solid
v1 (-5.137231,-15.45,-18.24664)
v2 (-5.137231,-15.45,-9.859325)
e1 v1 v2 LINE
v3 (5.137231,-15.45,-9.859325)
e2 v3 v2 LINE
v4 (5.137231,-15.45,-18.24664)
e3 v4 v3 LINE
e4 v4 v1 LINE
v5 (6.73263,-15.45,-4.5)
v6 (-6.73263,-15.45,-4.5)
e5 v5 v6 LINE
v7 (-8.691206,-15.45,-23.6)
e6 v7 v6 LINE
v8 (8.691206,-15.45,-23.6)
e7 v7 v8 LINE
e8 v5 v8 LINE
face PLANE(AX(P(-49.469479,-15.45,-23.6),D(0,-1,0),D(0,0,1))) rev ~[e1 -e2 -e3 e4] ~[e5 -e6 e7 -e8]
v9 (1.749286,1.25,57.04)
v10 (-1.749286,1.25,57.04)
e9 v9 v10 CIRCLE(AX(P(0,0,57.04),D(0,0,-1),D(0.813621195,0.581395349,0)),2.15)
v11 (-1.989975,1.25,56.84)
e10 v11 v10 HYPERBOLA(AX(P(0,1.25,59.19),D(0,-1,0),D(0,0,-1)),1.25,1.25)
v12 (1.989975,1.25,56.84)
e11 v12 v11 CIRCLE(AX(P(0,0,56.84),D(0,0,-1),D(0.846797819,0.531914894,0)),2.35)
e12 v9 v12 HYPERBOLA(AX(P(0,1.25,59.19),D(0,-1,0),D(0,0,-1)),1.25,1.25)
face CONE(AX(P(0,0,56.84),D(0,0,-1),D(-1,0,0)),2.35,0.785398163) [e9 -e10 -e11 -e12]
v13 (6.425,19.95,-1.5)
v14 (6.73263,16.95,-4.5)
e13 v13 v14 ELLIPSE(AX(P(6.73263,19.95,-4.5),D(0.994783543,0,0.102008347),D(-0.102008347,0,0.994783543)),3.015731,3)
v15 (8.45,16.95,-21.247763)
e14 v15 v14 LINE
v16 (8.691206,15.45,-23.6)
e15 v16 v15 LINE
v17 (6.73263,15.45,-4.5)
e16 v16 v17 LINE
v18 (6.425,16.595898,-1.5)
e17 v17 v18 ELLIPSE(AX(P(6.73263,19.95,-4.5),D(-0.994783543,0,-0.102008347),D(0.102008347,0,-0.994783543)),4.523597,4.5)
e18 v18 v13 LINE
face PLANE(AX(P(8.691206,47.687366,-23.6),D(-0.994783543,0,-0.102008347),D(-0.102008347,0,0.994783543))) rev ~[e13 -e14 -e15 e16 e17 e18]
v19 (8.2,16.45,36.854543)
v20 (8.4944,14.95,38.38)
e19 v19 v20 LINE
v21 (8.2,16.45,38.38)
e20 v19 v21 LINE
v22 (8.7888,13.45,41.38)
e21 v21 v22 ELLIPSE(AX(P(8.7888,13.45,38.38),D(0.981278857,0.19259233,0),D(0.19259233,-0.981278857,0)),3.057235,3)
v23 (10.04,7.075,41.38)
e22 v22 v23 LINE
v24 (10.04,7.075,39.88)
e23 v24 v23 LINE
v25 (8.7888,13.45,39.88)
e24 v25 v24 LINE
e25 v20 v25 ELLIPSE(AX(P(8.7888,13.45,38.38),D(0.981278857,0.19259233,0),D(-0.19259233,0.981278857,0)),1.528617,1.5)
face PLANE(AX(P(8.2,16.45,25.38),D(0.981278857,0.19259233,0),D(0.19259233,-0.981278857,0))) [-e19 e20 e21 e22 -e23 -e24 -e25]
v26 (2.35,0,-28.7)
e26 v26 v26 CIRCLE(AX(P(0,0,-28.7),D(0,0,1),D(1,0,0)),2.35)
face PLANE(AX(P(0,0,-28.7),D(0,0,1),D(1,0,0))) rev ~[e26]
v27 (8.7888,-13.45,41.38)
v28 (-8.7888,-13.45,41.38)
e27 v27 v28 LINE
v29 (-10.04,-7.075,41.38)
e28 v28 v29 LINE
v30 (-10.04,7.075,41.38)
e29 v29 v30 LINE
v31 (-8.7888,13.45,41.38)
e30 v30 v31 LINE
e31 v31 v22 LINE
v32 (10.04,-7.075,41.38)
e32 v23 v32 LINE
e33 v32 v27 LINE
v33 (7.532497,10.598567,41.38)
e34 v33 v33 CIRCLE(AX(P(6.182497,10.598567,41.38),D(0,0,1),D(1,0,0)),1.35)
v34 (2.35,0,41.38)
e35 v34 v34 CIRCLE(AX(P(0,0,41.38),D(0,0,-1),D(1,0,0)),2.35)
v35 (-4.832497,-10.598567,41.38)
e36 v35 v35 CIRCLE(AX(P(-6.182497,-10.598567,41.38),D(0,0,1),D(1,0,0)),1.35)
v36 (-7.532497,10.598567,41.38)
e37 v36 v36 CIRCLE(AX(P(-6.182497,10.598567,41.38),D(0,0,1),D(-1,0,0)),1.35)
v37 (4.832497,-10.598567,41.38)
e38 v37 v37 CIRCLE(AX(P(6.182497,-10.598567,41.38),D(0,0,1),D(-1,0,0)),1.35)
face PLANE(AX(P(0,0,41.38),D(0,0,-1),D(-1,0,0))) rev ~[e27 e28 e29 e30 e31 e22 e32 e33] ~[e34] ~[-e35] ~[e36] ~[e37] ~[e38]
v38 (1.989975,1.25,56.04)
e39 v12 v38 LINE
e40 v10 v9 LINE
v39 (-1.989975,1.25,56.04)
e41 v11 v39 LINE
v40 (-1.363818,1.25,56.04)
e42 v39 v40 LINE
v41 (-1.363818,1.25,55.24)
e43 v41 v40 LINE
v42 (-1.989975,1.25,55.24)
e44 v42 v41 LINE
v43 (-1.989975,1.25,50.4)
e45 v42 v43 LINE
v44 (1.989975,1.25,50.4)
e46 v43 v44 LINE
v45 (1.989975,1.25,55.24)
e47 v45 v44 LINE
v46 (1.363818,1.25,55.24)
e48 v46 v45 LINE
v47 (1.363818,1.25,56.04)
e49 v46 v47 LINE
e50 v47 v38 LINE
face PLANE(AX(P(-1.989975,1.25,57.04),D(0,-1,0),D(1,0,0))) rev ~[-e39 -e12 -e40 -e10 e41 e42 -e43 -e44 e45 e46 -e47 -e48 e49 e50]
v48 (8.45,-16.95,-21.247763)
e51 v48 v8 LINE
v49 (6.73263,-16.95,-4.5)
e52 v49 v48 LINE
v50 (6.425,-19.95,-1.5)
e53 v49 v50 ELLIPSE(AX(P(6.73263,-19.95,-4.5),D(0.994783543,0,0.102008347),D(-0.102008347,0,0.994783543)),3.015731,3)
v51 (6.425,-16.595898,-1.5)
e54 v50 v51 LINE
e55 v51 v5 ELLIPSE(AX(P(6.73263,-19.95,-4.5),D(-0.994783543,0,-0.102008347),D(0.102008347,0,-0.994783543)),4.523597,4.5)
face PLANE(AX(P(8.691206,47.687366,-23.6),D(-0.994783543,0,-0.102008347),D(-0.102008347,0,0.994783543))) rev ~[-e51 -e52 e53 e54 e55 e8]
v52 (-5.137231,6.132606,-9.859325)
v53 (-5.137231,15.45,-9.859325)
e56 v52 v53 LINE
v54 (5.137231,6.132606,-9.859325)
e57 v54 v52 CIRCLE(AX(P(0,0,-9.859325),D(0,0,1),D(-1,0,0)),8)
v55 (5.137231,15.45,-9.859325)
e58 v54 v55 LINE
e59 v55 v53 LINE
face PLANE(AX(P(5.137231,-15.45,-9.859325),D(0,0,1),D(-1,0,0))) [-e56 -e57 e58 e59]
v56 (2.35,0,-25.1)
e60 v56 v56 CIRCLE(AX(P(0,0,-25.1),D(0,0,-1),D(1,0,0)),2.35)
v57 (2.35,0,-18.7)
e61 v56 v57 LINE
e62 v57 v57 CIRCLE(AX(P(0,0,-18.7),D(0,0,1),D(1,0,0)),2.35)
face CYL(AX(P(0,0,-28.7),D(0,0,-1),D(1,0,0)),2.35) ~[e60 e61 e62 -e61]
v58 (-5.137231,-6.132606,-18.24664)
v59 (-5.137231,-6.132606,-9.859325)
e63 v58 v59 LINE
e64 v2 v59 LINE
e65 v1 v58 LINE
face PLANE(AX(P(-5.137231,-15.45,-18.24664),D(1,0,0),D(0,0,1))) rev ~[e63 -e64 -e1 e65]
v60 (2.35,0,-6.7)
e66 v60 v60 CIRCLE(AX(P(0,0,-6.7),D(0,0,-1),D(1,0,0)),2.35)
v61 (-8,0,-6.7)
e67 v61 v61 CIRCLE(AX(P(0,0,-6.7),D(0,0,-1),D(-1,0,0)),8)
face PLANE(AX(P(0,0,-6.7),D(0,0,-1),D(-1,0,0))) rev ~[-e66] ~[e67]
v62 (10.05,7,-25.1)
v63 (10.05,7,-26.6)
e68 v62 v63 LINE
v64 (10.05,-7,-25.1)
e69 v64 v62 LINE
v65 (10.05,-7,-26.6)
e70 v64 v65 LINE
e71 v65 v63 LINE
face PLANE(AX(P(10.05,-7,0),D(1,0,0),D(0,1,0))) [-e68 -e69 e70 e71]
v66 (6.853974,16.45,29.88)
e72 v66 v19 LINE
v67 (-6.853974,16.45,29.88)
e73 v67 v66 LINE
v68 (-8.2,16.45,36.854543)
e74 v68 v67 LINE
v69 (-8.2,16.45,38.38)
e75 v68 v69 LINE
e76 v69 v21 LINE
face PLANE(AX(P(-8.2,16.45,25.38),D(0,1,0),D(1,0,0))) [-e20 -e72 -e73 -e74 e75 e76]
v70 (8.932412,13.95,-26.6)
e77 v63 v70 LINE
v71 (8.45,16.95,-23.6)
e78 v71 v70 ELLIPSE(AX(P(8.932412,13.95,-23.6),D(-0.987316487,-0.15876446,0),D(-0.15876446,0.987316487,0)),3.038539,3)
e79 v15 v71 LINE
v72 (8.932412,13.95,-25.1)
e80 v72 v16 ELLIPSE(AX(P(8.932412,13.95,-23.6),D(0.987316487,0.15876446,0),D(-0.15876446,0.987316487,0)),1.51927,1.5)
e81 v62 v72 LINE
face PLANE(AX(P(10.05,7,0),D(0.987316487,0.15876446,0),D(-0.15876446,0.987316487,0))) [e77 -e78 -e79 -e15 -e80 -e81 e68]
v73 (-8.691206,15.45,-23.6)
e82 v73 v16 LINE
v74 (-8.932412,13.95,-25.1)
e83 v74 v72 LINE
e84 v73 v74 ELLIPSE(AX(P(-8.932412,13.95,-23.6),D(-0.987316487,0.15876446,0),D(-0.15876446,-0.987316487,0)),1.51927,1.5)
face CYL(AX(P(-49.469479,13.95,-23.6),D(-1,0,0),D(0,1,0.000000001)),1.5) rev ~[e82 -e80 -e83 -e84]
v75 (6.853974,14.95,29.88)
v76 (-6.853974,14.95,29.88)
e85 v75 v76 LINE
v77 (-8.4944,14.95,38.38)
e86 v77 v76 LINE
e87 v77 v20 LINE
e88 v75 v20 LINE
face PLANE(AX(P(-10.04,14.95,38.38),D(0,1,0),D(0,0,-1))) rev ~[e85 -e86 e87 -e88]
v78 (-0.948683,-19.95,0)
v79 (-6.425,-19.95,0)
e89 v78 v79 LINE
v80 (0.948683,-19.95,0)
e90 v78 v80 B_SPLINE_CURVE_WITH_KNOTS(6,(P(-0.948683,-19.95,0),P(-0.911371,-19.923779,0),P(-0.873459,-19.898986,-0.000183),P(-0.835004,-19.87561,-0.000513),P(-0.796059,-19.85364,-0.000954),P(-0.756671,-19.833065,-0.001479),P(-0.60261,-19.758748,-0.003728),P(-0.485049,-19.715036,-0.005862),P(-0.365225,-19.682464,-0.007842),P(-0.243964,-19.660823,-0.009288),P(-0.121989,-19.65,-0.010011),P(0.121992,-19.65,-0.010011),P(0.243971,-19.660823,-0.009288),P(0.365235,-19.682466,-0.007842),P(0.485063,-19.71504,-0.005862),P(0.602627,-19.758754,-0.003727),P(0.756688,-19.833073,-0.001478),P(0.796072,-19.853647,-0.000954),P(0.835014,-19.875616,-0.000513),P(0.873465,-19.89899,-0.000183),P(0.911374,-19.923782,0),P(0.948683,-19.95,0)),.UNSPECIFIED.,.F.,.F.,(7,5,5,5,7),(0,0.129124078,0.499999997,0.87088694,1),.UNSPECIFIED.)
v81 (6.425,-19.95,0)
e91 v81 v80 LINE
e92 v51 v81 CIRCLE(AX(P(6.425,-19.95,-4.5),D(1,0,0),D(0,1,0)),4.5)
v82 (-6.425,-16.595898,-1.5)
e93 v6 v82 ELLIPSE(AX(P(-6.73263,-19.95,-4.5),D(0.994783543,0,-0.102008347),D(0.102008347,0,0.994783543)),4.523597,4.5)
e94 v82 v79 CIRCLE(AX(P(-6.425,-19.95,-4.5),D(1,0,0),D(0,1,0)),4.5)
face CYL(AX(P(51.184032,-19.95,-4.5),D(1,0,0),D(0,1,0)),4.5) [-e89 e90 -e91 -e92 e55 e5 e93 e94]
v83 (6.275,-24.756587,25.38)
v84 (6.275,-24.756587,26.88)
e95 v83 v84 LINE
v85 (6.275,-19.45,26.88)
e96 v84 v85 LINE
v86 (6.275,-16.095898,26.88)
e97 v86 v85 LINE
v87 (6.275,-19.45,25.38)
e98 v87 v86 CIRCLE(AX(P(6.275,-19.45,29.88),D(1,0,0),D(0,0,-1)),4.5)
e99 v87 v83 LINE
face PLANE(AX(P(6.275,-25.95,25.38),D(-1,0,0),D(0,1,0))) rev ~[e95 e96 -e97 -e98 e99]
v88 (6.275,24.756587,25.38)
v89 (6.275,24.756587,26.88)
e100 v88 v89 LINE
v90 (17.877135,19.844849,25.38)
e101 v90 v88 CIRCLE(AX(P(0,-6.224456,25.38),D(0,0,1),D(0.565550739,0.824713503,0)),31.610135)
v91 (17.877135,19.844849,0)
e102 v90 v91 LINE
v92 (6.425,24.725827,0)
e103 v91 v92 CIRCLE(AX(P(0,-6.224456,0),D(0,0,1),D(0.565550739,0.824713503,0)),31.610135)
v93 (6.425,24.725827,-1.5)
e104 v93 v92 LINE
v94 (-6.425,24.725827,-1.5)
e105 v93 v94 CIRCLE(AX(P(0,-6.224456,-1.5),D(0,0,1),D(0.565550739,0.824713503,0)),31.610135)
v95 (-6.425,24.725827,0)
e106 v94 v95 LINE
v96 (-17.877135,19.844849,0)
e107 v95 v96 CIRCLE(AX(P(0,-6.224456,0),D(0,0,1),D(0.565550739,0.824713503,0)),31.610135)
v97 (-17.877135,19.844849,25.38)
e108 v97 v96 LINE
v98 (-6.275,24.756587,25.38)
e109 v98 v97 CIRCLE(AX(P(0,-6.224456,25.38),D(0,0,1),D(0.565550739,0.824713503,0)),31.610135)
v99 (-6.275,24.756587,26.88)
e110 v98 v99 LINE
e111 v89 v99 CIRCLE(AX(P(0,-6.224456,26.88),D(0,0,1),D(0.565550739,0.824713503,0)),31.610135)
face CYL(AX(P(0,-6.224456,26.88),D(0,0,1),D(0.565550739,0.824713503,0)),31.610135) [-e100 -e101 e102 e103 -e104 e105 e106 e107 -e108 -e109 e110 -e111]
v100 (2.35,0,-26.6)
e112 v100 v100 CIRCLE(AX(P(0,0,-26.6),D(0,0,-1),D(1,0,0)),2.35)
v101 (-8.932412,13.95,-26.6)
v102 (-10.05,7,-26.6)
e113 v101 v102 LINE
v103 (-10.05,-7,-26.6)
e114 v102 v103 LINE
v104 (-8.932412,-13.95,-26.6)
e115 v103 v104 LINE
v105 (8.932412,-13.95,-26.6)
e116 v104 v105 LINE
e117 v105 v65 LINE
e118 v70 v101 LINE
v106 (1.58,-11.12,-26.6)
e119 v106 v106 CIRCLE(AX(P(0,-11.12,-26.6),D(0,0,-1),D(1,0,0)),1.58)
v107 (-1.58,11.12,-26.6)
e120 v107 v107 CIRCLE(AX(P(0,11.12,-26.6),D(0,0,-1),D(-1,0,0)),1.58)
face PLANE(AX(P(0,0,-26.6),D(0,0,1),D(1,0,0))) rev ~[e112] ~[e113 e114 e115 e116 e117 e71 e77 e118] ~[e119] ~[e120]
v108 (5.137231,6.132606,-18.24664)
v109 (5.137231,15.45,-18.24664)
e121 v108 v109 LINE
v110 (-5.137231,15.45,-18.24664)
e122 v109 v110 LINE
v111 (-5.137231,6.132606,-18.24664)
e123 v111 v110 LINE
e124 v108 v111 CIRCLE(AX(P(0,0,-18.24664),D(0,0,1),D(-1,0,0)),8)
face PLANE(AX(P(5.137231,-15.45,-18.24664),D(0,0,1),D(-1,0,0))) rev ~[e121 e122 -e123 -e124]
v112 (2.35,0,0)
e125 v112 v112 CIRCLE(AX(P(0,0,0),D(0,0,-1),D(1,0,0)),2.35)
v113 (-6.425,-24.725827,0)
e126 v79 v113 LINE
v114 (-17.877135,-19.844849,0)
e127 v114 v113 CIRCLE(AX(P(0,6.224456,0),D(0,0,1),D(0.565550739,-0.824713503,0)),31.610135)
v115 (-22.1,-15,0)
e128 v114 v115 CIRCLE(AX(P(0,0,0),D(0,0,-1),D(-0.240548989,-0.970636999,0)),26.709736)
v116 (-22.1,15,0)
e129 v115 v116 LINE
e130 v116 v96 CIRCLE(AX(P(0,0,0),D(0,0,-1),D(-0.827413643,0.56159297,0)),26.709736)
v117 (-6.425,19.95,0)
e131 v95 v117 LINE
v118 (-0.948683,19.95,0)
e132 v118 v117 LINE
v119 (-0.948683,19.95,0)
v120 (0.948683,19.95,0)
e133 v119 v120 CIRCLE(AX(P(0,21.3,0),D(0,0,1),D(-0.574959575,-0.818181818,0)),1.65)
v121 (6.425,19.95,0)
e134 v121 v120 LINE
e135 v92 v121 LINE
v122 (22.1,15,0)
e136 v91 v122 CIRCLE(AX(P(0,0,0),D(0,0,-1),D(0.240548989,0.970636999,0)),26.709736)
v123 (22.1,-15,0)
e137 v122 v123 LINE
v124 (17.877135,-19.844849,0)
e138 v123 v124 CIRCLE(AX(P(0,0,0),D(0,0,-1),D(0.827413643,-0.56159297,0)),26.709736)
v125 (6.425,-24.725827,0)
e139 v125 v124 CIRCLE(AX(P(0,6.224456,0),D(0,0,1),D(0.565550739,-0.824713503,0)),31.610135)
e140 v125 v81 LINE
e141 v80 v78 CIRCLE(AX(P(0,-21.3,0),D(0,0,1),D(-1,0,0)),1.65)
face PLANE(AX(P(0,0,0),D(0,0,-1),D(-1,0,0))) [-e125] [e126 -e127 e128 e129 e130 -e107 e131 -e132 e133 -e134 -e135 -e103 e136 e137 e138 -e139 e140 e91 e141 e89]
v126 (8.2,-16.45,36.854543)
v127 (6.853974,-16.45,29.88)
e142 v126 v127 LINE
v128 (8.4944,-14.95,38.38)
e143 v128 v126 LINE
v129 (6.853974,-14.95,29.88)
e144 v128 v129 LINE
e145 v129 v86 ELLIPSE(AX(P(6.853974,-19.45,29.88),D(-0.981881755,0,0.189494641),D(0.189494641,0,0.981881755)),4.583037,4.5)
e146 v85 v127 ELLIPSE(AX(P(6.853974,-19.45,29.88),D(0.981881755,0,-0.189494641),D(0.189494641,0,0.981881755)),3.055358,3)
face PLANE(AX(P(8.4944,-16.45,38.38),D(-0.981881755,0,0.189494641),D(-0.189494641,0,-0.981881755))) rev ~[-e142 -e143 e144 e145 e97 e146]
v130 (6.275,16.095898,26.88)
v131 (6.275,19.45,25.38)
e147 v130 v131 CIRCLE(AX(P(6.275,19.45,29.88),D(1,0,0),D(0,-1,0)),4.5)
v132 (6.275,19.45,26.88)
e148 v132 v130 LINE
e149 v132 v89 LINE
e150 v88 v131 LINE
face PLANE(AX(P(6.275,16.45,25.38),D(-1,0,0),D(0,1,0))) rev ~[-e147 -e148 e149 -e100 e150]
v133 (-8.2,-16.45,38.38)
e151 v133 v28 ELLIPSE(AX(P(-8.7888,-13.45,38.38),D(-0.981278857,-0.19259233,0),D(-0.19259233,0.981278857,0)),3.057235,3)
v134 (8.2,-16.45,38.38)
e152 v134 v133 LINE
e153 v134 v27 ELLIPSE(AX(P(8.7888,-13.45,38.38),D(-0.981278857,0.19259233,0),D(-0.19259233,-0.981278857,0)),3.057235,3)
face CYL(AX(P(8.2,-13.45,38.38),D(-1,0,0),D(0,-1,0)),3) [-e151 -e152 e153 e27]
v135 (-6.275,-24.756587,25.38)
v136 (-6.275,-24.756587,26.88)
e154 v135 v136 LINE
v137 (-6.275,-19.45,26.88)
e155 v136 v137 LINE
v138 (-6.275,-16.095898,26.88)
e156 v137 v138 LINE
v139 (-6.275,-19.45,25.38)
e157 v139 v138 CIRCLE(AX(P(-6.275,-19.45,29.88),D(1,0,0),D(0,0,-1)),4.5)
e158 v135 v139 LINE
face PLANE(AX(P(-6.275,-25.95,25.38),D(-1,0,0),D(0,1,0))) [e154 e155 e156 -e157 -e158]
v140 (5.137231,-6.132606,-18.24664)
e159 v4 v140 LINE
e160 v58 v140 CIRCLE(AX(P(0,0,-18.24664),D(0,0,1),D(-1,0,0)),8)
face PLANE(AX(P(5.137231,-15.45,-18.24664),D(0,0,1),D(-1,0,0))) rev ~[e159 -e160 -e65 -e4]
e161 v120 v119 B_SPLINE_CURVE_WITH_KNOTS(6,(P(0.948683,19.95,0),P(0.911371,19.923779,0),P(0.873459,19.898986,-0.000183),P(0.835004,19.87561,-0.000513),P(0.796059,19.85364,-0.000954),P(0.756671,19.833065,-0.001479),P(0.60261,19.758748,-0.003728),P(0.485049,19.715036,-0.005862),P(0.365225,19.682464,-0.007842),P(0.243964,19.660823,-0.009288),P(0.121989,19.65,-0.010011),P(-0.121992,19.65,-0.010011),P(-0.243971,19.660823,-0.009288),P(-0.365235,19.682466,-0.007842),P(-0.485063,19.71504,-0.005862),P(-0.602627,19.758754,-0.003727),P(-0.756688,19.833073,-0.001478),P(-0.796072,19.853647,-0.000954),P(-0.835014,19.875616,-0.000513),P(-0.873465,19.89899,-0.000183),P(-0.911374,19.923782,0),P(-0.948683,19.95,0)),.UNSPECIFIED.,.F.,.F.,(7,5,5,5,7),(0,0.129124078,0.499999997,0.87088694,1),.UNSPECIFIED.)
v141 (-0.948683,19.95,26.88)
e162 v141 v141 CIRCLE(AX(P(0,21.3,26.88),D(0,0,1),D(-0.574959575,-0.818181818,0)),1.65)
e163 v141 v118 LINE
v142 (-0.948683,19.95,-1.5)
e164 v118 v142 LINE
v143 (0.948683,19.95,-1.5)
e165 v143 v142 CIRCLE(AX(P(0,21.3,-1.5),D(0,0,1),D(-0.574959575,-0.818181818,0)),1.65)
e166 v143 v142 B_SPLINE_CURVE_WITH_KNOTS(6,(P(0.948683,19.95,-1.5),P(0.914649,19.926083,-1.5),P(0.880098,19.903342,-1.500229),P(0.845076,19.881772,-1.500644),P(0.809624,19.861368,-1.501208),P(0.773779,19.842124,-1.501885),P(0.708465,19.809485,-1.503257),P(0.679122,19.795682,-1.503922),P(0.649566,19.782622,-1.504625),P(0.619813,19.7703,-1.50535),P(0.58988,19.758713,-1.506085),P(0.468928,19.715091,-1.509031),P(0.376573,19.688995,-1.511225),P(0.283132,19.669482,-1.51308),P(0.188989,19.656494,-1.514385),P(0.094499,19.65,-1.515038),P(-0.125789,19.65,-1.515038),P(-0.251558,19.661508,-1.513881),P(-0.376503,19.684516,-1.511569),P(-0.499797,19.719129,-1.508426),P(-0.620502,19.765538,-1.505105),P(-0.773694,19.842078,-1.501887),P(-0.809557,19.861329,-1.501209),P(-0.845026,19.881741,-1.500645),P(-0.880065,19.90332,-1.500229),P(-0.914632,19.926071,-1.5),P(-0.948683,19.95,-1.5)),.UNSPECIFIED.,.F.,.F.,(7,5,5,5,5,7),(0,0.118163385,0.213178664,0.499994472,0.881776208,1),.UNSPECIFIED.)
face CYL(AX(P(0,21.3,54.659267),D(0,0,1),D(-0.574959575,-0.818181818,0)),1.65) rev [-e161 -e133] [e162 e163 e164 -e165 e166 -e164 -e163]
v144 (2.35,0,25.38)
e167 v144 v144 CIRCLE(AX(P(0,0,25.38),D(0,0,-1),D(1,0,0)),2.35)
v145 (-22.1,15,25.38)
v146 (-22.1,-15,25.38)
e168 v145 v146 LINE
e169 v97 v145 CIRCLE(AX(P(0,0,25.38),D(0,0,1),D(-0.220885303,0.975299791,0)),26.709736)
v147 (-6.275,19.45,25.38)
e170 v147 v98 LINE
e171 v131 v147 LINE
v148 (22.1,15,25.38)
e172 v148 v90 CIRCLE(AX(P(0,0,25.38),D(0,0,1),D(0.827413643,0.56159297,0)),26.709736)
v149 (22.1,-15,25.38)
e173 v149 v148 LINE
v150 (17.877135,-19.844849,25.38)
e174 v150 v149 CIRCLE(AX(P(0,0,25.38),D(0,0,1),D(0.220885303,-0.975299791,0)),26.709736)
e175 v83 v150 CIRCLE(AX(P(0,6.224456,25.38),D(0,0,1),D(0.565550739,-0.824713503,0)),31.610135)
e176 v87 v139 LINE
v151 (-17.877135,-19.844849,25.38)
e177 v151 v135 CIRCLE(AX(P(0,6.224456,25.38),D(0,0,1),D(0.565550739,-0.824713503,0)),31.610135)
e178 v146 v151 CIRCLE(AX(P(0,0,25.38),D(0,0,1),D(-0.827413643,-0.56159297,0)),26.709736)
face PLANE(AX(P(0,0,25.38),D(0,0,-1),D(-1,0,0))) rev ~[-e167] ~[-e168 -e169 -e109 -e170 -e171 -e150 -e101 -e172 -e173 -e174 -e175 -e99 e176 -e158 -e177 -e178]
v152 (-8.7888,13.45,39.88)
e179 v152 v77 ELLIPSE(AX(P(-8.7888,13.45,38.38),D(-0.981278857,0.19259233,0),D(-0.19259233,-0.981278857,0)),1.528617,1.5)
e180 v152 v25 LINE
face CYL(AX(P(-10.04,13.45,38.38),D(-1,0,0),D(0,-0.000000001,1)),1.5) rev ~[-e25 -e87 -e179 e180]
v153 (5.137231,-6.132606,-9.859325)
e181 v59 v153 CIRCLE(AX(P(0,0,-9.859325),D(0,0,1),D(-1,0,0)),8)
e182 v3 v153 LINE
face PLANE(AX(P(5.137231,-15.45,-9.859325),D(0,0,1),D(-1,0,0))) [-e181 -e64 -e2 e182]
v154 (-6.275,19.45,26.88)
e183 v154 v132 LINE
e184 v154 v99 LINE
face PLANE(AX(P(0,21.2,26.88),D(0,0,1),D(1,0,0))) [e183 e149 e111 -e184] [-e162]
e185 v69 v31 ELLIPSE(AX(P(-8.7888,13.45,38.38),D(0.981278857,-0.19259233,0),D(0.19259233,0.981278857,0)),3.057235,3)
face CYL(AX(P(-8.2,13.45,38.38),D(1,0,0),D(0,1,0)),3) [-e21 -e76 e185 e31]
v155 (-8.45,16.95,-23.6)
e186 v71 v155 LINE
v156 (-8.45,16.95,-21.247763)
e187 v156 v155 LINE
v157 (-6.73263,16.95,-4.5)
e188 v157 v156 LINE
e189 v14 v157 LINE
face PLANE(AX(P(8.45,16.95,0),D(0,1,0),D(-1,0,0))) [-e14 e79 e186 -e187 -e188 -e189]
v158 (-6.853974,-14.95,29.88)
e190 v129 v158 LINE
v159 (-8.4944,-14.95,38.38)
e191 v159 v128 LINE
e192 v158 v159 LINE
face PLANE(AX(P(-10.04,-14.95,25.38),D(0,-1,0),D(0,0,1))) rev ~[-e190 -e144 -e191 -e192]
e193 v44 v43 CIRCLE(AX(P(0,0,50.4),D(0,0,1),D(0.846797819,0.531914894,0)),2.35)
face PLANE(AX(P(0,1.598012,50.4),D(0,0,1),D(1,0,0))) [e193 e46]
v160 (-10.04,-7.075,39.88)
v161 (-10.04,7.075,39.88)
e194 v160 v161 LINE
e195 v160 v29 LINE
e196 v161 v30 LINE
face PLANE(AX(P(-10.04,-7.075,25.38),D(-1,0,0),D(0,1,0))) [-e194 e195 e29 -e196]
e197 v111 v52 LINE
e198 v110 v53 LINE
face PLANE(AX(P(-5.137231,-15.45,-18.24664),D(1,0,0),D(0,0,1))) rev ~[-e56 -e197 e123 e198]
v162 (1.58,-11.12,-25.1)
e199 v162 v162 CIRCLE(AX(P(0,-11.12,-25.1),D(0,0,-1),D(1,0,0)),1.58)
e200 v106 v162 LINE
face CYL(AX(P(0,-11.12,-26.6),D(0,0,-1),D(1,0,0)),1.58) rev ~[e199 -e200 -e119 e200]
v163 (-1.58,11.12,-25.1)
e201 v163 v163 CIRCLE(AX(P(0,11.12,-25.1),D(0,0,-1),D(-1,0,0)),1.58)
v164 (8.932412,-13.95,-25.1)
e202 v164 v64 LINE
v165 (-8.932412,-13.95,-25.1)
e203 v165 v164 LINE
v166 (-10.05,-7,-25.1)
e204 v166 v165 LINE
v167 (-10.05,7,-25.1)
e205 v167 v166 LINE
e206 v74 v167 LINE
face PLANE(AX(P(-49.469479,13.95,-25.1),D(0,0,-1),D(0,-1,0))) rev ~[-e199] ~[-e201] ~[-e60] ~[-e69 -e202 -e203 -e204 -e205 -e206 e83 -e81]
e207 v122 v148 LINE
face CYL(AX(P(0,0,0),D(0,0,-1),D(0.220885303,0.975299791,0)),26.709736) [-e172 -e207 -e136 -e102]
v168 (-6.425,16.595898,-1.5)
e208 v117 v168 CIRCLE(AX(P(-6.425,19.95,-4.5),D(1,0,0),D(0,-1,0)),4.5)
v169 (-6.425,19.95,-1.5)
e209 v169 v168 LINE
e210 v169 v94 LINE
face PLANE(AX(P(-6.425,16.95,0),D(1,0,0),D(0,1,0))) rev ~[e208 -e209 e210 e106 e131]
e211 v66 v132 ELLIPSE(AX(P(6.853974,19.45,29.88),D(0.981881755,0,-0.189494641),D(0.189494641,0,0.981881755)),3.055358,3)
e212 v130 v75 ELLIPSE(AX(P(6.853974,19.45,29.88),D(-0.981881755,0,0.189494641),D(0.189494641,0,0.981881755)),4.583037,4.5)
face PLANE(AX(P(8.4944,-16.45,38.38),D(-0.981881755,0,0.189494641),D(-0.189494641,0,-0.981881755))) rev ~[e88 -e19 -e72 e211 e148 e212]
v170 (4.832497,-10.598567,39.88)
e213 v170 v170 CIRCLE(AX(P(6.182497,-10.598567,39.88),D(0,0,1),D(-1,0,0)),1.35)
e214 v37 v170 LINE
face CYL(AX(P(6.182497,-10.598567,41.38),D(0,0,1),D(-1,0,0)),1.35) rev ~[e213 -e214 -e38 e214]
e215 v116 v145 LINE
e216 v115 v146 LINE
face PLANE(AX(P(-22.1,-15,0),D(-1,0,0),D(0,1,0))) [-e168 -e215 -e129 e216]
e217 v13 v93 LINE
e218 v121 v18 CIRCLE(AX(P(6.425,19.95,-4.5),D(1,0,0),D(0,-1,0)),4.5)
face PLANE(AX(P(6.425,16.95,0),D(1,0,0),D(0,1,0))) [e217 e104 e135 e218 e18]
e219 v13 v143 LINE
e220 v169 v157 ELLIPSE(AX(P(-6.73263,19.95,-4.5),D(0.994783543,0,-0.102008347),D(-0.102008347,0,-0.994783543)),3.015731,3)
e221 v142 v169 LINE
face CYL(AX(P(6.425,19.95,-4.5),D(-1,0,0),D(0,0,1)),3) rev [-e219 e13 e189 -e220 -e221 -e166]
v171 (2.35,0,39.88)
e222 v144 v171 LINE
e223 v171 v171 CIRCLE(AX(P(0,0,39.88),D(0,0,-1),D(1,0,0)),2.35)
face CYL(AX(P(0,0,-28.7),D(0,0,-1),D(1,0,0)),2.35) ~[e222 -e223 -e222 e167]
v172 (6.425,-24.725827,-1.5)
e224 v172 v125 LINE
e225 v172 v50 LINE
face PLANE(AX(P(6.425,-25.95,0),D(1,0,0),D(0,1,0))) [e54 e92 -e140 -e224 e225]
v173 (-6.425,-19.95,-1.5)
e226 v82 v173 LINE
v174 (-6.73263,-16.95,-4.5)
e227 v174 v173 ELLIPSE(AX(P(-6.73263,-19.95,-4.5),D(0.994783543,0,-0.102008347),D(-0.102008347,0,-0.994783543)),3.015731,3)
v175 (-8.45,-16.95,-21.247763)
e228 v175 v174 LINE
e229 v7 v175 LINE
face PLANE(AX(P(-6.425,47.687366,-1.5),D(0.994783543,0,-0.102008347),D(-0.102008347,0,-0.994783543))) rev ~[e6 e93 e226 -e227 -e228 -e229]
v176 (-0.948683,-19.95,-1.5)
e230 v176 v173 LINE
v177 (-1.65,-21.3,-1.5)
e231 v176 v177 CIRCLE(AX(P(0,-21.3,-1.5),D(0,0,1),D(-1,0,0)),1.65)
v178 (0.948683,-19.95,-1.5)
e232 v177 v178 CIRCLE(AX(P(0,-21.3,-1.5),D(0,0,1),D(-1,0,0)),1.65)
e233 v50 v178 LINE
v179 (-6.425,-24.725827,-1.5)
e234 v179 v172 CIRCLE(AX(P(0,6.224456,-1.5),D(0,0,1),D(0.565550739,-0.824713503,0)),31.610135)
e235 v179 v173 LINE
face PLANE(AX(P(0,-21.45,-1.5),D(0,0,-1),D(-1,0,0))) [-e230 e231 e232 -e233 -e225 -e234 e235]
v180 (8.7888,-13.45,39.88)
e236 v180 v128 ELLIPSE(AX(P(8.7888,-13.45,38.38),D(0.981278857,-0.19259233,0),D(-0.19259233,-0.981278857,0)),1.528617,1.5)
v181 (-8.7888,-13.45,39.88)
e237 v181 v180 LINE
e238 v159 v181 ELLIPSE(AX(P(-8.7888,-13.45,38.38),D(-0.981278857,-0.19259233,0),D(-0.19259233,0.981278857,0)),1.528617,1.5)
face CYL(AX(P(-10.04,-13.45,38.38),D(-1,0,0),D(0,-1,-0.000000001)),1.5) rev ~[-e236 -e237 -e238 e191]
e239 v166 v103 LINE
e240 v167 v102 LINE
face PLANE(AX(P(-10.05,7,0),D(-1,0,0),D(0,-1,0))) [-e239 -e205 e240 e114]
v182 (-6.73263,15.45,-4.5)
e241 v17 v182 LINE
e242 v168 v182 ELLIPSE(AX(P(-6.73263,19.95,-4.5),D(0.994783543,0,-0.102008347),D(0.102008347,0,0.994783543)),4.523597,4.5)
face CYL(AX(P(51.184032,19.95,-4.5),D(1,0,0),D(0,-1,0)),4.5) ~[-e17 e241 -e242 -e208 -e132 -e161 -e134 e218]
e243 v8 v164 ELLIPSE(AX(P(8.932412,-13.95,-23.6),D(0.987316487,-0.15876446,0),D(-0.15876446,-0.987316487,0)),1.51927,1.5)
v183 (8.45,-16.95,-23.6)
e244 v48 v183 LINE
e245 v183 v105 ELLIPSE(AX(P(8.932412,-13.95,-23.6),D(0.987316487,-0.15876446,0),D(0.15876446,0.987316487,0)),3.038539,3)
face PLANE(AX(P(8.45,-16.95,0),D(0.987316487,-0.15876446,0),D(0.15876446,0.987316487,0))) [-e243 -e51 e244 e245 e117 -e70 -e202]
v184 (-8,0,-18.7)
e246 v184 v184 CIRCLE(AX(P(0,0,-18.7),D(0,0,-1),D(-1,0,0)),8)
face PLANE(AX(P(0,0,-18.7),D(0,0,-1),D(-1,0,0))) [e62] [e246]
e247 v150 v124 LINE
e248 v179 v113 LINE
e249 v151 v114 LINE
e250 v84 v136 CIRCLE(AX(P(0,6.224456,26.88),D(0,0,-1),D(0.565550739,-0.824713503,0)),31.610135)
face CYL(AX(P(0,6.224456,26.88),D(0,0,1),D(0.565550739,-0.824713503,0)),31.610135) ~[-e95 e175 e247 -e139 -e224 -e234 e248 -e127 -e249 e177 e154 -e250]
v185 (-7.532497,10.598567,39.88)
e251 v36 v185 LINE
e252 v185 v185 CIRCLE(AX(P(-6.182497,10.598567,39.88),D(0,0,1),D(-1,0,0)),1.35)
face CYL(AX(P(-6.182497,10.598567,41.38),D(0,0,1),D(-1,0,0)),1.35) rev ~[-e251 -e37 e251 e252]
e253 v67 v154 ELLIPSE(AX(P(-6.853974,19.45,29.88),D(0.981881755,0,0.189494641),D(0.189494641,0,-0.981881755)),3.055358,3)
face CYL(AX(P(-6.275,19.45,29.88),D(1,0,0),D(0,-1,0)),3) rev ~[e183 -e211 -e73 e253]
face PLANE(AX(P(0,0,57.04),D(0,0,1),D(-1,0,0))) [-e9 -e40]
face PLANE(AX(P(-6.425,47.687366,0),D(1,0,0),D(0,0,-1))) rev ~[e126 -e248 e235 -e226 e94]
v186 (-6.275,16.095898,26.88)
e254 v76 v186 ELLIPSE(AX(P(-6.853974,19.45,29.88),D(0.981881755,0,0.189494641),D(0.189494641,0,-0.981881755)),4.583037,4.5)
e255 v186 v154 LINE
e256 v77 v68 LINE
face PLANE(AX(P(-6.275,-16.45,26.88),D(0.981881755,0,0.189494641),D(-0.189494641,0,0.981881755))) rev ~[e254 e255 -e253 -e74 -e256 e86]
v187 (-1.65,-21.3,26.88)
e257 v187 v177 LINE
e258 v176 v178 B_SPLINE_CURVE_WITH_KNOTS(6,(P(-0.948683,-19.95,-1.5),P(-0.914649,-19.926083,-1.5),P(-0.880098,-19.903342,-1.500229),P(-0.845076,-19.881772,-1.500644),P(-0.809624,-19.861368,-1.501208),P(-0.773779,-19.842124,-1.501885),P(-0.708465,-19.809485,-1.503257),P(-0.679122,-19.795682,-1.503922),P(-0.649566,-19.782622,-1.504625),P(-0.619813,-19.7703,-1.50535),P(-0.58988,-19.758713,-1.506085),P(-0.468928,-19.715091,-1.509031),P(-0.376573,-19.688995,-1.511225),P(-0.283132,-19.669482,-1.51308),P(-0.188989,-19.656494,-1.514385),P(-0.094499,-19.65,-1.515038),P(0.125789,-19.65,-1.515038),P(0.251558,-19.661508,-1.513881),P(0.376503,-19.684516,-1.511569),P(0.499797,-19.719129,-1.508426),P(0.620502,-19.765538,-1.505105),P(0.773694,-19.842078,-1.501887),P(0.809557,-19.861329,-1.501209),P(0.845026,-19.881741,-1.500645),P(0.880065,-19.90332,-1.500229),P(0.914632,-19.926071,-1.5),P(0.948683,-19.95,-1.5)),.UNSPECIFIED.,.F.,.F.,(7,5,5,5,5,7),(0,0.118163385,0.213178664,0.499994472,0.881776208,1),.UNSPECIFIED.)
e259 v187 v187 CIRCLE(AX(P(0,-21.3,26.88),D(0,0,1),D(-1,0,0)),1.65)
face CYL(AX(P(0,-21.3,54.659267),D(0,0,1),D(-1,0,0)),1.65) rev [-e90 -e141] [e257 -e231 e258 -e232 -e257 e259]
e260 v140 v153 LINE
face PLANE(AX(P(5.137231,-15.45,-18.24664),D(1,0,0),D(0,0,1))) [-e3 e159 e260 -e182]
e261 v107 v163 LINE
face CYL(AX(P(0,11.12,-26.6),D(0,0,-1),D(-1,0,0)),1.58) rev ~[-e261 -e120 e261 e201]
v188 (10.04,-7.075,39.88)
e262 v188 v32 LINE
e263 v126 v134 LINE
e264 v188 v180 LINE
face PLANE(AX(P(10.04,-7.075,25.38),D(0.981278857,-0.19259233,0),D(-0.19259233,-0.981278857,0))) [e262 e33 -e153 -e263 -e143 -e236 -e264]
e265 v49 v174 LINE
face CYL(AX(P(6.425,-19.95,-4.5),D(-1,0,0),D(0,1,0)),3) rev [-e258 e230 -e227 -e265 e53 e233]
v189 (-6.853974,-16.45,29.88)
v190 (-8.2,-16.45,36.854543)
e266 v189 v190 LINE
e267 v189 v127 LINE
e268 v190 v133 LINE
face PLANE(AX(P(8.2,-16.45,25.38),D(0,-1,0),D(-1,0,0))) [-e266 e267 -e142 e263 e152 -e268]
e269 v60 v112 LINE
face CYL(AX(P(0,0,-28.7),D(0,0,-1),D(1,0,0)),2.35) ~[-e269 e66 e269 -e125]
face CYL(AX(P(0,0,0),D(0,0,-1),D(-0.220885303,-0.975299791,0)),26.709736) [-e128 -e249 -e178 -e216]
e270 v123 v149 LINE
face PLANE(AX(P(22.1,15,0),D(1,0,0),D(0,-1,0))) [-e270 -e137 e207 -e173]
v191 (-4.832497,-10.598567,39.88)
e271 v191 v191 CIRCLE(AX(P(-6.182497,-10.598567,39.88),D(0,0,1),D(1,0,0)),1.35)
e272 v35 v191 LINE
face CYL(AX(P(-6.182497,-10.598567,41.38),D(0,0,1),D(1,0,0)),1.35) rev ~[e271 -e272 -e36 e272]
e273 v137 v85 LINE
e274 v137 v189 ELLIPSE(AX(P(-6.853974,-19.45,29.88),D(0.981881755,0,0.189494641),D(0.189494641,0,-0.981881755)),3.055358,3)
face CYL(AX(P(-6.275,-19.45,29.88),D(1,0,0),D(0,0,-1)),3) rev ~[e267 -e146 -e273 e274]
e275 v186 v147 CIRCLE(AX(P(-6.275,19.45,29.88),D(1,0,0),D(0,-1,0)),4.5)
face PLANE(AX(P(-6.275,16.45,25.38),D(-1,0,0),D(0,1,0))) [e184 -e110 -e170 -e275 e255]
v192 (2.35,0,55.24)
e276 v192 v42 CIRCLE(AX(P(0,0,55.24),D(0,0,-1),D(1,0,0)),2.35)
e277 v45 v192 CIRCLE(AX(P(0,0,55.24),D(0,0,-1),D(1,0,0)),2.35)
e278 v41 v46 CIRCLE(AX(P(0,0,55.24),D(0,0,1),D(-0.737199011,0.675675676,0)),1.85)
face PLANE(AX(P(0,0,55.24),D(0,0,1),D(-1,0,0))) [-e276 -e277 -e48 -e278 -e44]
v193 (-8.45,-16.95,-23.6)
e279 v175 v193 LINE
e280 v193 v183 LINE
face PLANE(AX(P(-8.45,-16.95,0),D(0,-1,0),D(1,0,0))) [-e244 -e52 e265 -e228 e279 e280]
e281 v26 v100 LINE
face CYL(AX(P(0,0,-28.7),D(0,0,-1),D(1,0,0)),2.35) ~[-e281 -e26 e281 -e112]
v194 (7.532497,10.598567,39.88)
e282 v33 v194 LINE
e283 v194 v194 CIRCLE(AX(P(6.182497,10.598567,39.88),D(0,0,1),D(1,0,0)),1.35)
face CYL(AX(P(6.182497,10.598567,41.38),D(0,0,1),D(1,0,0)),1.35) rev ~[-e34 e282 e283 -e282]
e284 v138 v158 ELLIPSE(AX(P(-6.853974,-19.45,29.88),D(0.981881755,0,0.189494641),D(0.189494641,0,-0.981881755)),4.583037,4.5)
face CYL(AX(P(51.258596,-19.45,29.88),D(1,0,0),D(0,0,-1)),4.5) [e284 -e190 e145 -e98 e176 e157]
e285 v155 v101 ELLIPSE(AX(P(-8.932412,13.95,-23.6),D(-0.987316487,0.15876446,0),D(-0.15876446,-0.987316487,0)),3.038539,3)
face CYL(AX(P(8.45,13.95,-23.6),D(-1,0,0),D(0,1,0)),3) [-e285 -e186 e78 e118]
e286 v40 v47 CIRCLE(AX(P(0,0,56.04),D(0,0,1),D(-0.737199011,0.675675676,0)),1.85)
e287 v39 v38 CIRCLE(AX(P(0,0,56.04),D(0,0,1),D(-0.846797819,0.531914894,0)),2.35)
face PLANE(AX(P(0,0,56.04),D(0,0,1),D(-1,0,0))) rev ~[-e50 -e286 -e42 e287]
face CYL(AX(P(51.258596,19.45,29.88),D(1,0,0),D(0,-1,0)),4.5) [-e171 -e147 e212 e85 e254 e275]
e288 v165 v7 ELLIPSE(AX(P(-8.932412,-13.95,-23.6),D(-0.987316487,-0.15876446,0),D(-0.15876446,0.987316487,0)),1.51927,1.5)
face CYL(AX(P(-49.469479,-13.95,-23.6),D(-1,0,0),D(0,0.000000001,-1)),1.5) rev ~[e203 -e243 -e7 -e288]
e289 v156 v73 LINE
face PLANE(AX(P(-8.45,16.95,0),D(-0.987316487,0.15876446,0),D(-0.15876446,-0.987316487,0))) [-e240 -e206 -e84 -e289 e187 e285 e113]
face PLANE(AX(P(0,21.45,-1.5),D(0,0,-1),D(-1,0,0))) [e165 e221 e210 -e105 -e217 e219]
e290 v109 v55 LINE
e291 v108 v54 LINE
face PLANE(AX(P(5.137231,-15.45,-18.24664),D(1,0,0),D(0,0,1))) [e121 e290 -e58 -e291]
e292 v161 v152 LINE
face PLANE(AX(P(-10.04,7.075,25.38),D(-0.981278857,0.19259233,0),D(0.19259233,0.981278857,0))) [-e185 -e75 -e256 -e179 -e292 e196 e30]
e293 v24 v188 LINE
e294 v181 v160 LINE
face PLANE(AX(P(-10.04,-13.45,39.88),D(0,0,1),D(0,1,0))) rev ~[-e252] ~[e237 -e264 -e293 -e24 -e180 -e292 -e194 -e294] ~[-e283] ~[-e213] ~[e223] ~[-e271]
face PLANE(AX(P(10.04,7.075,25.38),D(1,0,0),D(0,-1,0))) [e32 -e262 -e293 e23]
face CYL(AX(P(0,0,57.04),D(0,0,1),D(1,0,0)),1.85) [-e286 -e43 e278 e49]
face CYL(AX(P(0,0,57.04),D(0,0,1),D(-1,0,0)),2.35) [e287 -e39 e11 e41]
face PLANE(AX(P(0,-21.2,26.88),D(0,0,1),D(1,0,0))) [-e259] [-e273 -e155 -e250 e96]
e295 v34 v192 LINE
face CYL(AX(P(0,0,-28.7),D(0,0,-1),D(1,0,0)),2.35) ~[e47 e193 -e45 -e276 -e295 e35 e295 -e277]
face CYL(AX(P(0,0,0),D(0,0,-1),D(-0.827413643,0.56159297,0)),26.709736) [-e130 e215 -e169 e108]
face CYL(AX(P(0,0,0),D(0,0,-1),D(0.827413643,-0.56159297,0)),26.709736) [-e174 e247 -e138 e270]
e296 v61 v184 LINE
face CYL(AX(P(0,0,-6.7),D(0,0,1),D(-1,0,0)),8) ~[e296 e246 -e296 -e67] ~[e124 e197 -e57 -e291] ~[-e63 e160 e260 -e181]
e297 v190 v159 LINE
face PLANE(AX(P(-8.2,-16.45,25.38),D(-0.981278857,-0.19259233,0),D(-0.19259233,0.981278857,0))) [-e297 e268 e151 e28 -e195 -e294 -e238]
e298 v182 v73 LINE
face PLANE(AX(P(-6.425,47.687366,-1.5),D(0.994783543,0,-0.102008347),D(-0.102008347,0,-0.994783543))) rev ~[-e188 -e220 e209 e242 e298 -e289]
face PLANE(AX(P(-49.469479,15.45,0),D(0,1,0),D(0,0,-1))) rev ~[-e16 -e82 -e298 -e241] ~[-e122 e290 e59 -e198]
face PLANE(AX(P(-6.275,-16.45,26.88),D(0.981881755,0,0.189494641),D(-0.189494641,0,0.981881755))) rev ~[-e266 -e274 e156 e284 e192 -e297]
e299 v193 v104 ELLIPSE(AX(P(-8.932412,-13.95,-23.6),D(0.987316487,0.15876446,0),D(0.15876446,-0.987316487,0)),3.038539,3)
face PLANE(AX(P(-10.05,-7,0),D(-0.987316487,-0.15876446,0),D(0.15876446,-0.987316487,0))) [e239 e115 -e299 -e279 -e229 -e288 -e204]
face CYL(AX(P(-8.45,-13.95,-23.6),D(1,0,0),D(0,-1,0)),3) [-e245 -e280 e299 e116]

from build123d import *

# Parameters (mm, degrees)
MOTOR_CORE_DEPTH                   = 25.38
GEAR_END_PLATE_DEPTH               = 16
GEAR_END_PLATE_FILLET_R            = 3
GEAR_END_PLATE_CUT_DEPTH           = 59.513985508
SKETCH8_W                          = 12.55
SKETCH8_H                          = 9.5
GEAR_END_PLATE_TABS_DEPTH          = 1.5
GEAR_END_SIDE_CUT_DEPTH            = 64.300587675
GEAR_END_TAB_FILLET_R              = 3
GEAR_END_KLUDGE_FILLET_DEPTH       = 57.533596427
GEAR_END_KLUDGE_FILLET_DEPTH_BACK  = 57.533596427
GEAR_CADDY_SCREW_HOLES_REACH       = 55.659
SKETCH11_R                         = 1.35
ROTOR_END_PLATE_DEPTH              = 26.6
ROTOR_END_PLATE_FILLET_R           = 3
ROTOR_END_PLATE_CUT_DEPTH          = 59.519478808
ROTOR_END_PLATE_CUT_DEPTH_BACK     = 59.519478808
SKETCH15_W                         = 12.85
SKETCH15_H                         = 9
ROTOR_END_PLATE_TABS_DEPTH         = 1.5
ROTOR_END_SIDE_CT_DEPTH            = 64.637366382
ROTOR_END_SIDE_CT_DEPTH_BACK       = 64.637366382
ROTOR_END_TAB_FILLET_R             = 3
ROTOR_END_KLUDGE_FILLET_DEPTH      = 57.609032186
ROTOR_END_KLUDGE_FILLET_DEPTH_BACK = 57.609032186
MOTOR_LONG_SCREW_HOLES_DEPTH       = 54.659266674
MOTOR_LONG_SCREW_HOLES_DEPTH_BACK  = 54.659266674
SKETCH12_R                         = 1.65
MOTOR_SHAFT_DEPTH                  = 31.66
MOTOR_SHAFT_DEPTH_BACK             = 54.08
SKETCH1_R                          = 2.35
SKETCH3_R                          = 2.35
SKETCH3_R_2                        = 1.85
GROOVE_CUT_DEPTH                   = 1.8
SKETCH4_R                          = 2.35
GROOVE_FILL_DEPTH                  = 1
SHAFT_CHAMFER_SIZE                 = 0.2
MOTOR_GEAR_FLAT_DEPTH              = 6.64
ROTOR_END_PLATE_HOLES_REACH        = 92.347
SKETCH18_R                         = 1.58
MOTOR_START                        = -12
SKETCH20_R                         = 8
SKETCH20_R_2                       = 2.35
MOTOR_ROTOR_DEPTH                  = 12
MOTOR_START_2                      = -32.4
SKETCH21_W                         = 10.27446139
SKETCH21_H                         = 8.38731542
MOTOR_STATOR_BRUSHES_DEPTH         = 30.9
CUT_EXTRUDE1_DEPTH                 = 66.239166917


with BuildPart() as part:
    # motor core shape → motor core (new body)
    with BuildSketch(Plane.XY):
        with BuildLine():
            Line((-5.899788132, 26.05), (5.899788132, 26.05))
            ThreePointArc((5.899788132, 26.05), (15.050669715, 22.065523813), (22.1, 15))
            Line((22.1, 15), (22.1, -15))
            ThreePointArc((22.1, -15), (15.050669715, -22.065523813), (5.899788132, -26.05))
            Line((5.899788132, -26.05), (-5.899788132, -26.05))
            ThreePointArc((-5.899788132, -26.05), (-15.050669715, -22.065523813), (-22.1, -15))
            Line((-22.1, -15), (-22.1, 15))
            ThreePointArc((-22.1, 15), (-15.050669715, 22.065523813), (-5.899788132, 26.05))
        make_face()
    extrude(amount=MOTOR_CORE_DEPTH)

    # Sketch5 → gear end plate (add)
    with BuildSketch(Plane.XY.offset(25.38)):
        Polygon((8.2, 16.45), (10.04, 7.075), (10.04, -7.075), (8.2, -16.45), (-8.2, -16.45), (-10.04, -7.075), (-10.04, 7.075), (-8.2, 16.45), align=None)
    extrude(amount=GEAR_END_PLATE_DEPTH)

    # gear end plate fillet
    gear_end_plate_fillet_edges = [part.edges().sort_by_distance(p)[0] for p in [
        (0, 16.45, 41.38),
        (0, -16.45, 41.38),
    ]]
    fillet(gear_end_plate_fillet_edges, radius=GEAR_END_PLATE_FILLET_R)

    # Sketch7 → gear end plate cut (cut, through all)
    with BuildSketch(Plane.ZY.offset(10.04)):
        with BuildLine():
            Line((25.38, 14.95), (25.38, -14.95))
            Line((25.38, -14.95), (38.38, -14.95))
            ThreePointArc((38.38, -14.95), (39.440660172, -14.510660172), (39.88, -13.45))
            Line((39.88, -13.45), (39.88, -7.075))
            Line((39.88, -7.075), (39.88, 7.075))
            Line((39.88, 7.075), (39.88, 13.45))
            ThreePointArc((39.88, 13.45), (39.440660172, 14.510660172), (38.38, 14.95))
            Line((38.38, 14.95), (25.38, 14.95))
        make_face()
    extrude(amount=-GEAR_END_PLATE_CUT_DEPTH, mode=Mode.SUBTRACT)

    # Sketch8 → gear end plate tabs (add)
    with BuildSketch(Plane.XY.offset(25.38)):
        with Locations((0, 21.2)):
            Rectangle(SKETCH8_W, SKETCH8_H)
        with Locations((0, -21.2)):
            Rectangle(SKETCH8_W, SKETCH8_H)
    extrude(amount=GEAR_END_PLATE_TABS_DEPTH)

    # Sketch9 → gear end side cut (cut, through all)
    with BuildSketch(Plane.XZ.offset(16.45)):
        Polygon((-8.4944, 25.38), (-6.275, 25.38), (-6.275, 26.88), (-8.4944, 38.38), align=None)
        Polygon((6.275, 25.38), (8.4944, 25.38), (8.4944, 38.38), (6.275, 26.88), align=None)
    extrude(amount=-GEAR_END_SIDE_CUT_DEPTH, mode=Mode.SUBTRACT)

    # gear end tab fillet
    gear_end_tab_fillet_edges = [part.edges().sort_by_distance(p)[0] for p in [
        (0, -16.45, 26.88),
        (0, 16.45, 26.88),
    ]]
    fillet(gear_end_tab_fillet_edges, radius=GEAR_END_TAB_FILLET_R)

    # Sketch10 → gear end kludge fillet (cut, two sides: drawn at the far end of the back side and taken through both)
    with BuildSketch(Plane.ZY.offset(6.275).offset(-GEAR_END_KLUDGE_FILLET_DEPTH_BACK)):
        with BuildLine():
            Line((25.38, 19.45), (25.38, 14.95))
            Line((25.38, 14.95), (29.88, 14.95))
            ThreePointArc((29.88, 14.95), (26.698019485, 16.268019485), (25.38, 19.45))
        make_face()
        with BuildLine():
            Line((29.88, -14.95), (25.38, -14.95))
            Line((25.38, -14.95), (25.38, -19.45))
            ThreePointArc((25.38, -19.45), (26.698019485, -16.268019485), (29.88, -14.95))
        make_face()
    extrude(amount=GEAR_END_KLUDGE_FILLET_DEPTH + GEAR_END_KLUDGE_FILLET_DEPTH_BACK, mode=Mode.SUBTRACT)

    # Sketch11 → gear caddy screw holes (cut, up to next)
    with BuildSketch(Plane.XY.offset(41.38), mode=Mode.PRIVATE) as gear_caddy_screw_holes_sk1:
        with Locations((6.182497483, 10.598567114)):
            Circle(SKETCH11_R)
    gear_caddy_screw_holes_tool1 = extrude(gear_caddy_screw_holes_sk1.sketch, amount=-GEAR_CADDY_SCREW_HOLES_REACH, mode=Mode.PRIVATE) & part.part
    # Sketch11 → gear caddy screw holes (cut, up to next)
    with BuildSketch(Plane.XY.offset(41.38), mode=Mode.PRIVATE) as gear_caddy_screw_holes_sk2:
        with Locations(Location((-6.182497483, 10.598567114, 0), (0, 0, 180))):
            Circle(SKETCH11_R)
    gear_caddy_screw_holes_tool2 = extrude(gear_caddy_screw_holes_sk2.sketch, amount=-GEAR_CADDY_SCREW_HOLES_REACH, mode=Mode.PRIVATE) & part.part
    # Sketch11 → gear caddy screw holes (cut, up to next)
    with BuildSketch(Plane.XY.offset(41.38), mode=Mode.PRIVATE) as gear_caddy_screw_holes_sk3:
        with Locations((-6.182497483, -10.598567114)):
            Circle(SKETCH11_R)
    gear_caddy_screw_holes_tool3 = extrude(gear_caddy_screw_holes_sk3.sketch, amount=-GEAR_CADDY_SCREW_HOLES_REACH, mode=Mode.PRIVATE) & part.part
    # Sketch11 → gear caddy screw holes (cut, up to next)
    with BuildSketch(Plane.XY.offset(41.38), mode=Mode.PRIVATE) as gear_caddy_screw_holes_sk4:
        with Locations(Location((6.182497483, -10.598567114, 0), (0, 0, 180))):
            Circle(SKETCH11_R)
    gear_caddy_screw_holes_tool4 = extrude(gear_caddy_screw_holes_sk4.sketch, amount=-GEAR_CADDY_SCREW_HOLES_REACH, mode=Mode.PRIVATE) & part.part
    add(gear_caddy_screw_holes_tool1.solids().sort_by_distance((6.182497, 10.598567, 41.38))[0], mode=Mode.SUBTRACT)
    add(gear_caddy_screw_holes_tool2.solids().sort_by_distance((-6.182497, 10.598567, 41.38))[0], mode=Mode.SUBTRACT)
    add(gear_caddy_screw_holes_tool3.solids().sort_by_distance((-6.182497, -10.598567, 41.38))[0], mode=Mode.SUBTRACT)
    add(gear_caddy_screw_holes_tool4.solids().sort_by_distance((6.182497, -10.598567, 41.38))[0], mode=Mode.SUBTRACT)

    # Sketch13 → rotor end plate (add)
    with BuildSketch(Plane(origin=(0, 0, 0), x_dir=(-1, 0, 0), z_dir=(0, 0, -1))):
        Polygon((-8.45, 16.95), (8.45, 16.95), (10.05, 7), (10.05, -7), (8.45, -16.95), (-8.45, -16.95), (-10.05, -7), (-10.05, 7), align=None)
    extrude(amount=ROTOR_END_PLATE_DEPTH)

    # rotor end plate fillet
    rotor_end_plate_fillet_edges = [part.edges().sort_by_distance(p)[0] for p in [
        (0, 16.95, -26.6),
        (0, -16.95, -26.6),
    ]]
    fillet(rotor_end_plate_fillet_edges, radius=ROTOR_END_PLATE_FILLET_R)

    # Sketch14 → rotor end plate cut (cut, two sides: drawn at the far end of the back side and taken through both)
    with BuildSketch(Plane(origin=(10.05, 0, 0), x_dir=(0, 0, -1), z_dir=(1, 0, 0)).offset(-ROTOR_END_PLATE_CUT_DEPTH_BACK)):
        with BuildLine():
            Line((0, -15.45), (0, 15.45))
            Line((0, 15.45), (23.6, 15.45))
            ThreePointArc((23.6, 15.45), (24.660660172, 15.010660172), (25.1, 13.95))
            Line((25.1, 13.95), (25.1, 7))
            Line((25.1, 7), (25.1, -7))
            Line((25.1, -7), (25.1, -13.95))
            ThreePointArc((25.1, -13.95), (24.660660172, -15.010660172), (23.6, -15.45))
            Line((23.6, -15.45), (0, -15.45))
        make_face()
    extrude(amount=ROTOR_END_PLATE_CUT_DEPTH + ROTOR_END_PLATE_CUT_DEPTH_BACK, mode=Mode.SUBTRACT)

    # Sketch15 → rotor end plate tabs (add)
    with BuildSketch(Plane(origin=(0, 0, 0), x_dir=(-1, 0, 0), z_dir=(0, 0, -1))):
        with Locations((0, 21.45)):
            Rectangle(SKETCH15_W, SKETCH15_H)
        with Locations((0, -21.45)):
            Rectangle(SKETCH15_W, SKETCH15_H)
    extrude(amount=ROTOR_END_PLATE_TABS_DEPTH)

    # Sketch16 → rotor end side ct (cut, two sides: drawn at the far end of the back side and taken through both)
    with BuildSketch(Plane.XZ.offset(16.95).offset(-ROTOR_END_SIDE_CT_DEPTH_BACK)):
        Polygon((-8.69120603, -23.6), (-8.69120603, 0), (-6.425, 0), (-6.425, -1.5), align=None)
        Polygon((6.425, -1.5), (6.425, 0), (8.69120603, 0), (8.69120603, -23.6), align=None)
    extrude(amount=ROTOR_END_SIDE_CT_DEPTH + ROTOR_END_SIDE_CT_DEPTH_BACK, mode=Mode.SUBTRACT)

    # rotor end tab fillet
    rotor_end_tab_fillet_edges = [part.edges().sort_by_distance(p)[0] for p in [
        (0, -16.95, -1.5),
        (0, 16.95, -1.5),
    ]]
    fillet(rotor_end_tab_fillet_edges, radius=ROTOR_END_TAB_FILLET_R)

    # Sketch17 → rotor end kludge fillet (cut, two sides: drawn at the far end of the back side and taken through both)
    with BuildSketch(Plane.ZY.offset(6.425).offset(-ROTOR_END_KLUDGE_FILLET_DEPTH_BACK)):
        with BuildLine():
            Line((0, 19.95), (0, 15.45))
            Line((0, 15.45), (-4.5, 15.45))
            ThreePointArc((-4.5, 15.45), (-1.318019485, 16.768019485), (0, 19.95))
        make_face()
        with BuildLine():
            Line((0, -19.95), (0, -15.45))
            Line((0, -15.45), (-4.5, -15.45))
            ThreePointArc((-4.5, -15.45), (-1.318019485, -16.768019485), (0, -19.95))
        make_face()
    extrude(amount=ROTOR_END_KLUDGE_FILLET_DEPTH + ROTOR_END_KLUDGE_FILLET_DEPTH_BACK, mode=Mode.SUBTRACT)

    # Sketch12 → motor long screw holes (cut, two sides: drawn at the far end of the back side and taken through both)
    with BuildSketch(Plane(origin=(0, 0, 0), x_dir=(-1, 0, 0), z_dir=(0, 0, -1)).offset(-MOTOR_LONG_SCREW_HOLES_DEPTH_BACK)):
        with Locations(Location((0, 21.3, 0), (0, 0, 305.096801228))):
            Circle(SKETCH12_R)
        with Locations((0, -21.3)):
            Circle(SKETCH12_R)
    extrude(amount=MOTOR_LONG_SCREW_HOLES_DEPTH + MOTOR_LONG_SCREW_HOLES_DEPTH_BACK, mode=Mode.SUBTRACT)

    # Sketch1 → motor shaft (add, two sides: drawn at the far end of the back side and taken through both)
    with BuildSketch(Plane.XY.offset(25.38).offset(-MOTOR_SHAFT_DEPTH_BACK)):
        Circle(SKETCH1_R)
    extrude(amount=MOTOR_SHAFT_DEPTH + MOTOR_SHAFT_DEPTH_BACK)

    # Sketch3 → groove cut (cut)
    with BuildSketch(Plane.XY.offset(57.04)):
        with Locations(Location((0, 0, 0), (0, 0, 180))):
            Circle(SKETCH3_R)
        Circle(SKETCH3_R_2, mode=Mode.SUBTRACT)
    extrude(amount=-GROOVE_CUT_DEPTH, mode=Mode.SUBTRACT)

    # Sketch4 → groove fill (add)
    with BuildSketch(Plane.XY.offset(57.04)):
        with Locations(Location((0, 0, 0), (0, 0, 180))):
            Circle(SKETCH4_R)
    extrude(amount=-GROOVE_FILL_DEPTH)

    # shaft chamfer
    shaft_chamfer_edges = [part.edges().sort_by_distance(p)[0] for p in [
        (2.35, 0, 57.04),
    ]]
    chamfer(shaft_chamfer_edges, length=SHAFT_CHAMFER_SIZE)

    # Sketch2 → motor gear flat (cut)
    with BuildSketch(Plane.XY.offset(57.04)):
        with BuildLine():
            Line((-1.989974874, 1.25), (1.989974874, 1.25))
            ThreePointArc((1.989974874, 1.25), (0, 2.35), (-1.989974874, 1.25))
        make_face()
    extrude(amount=-MOTOR_GEAR_FLAT_DEPTH, mode=Mode.SUBTRACT)

    # Sketch18 → rotor end plate holes (cut, up to next)
    with BuildSketch(Plane(origin=(0, 0, -26.6), x_dir=(-1, 0, 0), z_dir=(0, 0, -1)), mode=Mode.PRIVATE) as rotor_end_plate_holes_sk1:
        with Locations((0, 11.12)):
            Circle(SKETCH18_R)
    rotor_end_plate_holes_tool1 = extrude(rotor_end_plate_holes_sk1.sketch, amount=-ROTOR_END_PLATE_HOLES_REACH, mode=Mode.PRIVATE) & part.part
    # Sketch18 → rotor end plate holes (cut, up to next)
    with BuildSketch(Plane(origin=(0, 0, -26.6), x_dir=(-1, 0, 0), z_dir=(0, 0, -1)), mode=Mode.PRIVATE) as rotor_end_plate_holes_sk2:
        with Locations(Location((0, -11.12, 0), (0, 0, 180))):
            Circle(SKETCH18_R)
    rotor_end_plate_holes_tool2 = extrude(rotor_end_plate_holes_sk2.sketch, amount=-ROTOR_END_PLATE_HOLES_REACH, mode=Mode.PRIVATE) & part.part
    add(rotor_end_plate_holes_tool1.solids().sort_by_distance((0, 11.12, -26.6))[0], mode=Mode.SUBTRACT)
    add(rotor_end_plate_holes_tool2.solids().sort_by_distance((0, -11.12, -26.6))[0], mode=Mode.SUBTRACT)

    # Sketch20 → motor rotor (add)
    with BuildSketch(Plane(origin=(0, 0, -18.7), x_dir=(-1, 0, 0), z_dir=(0, 0, -1)).offset(MOTOR_START)):
        Circle(SKETCH20_R)
        Circle(SKETCH20_R_2, mode=Mode.SUBTRACT)
    extrude(amount=MOTOR_ROTOR_DEPTH)

    # Sketch21 → motor stator,brushes (add)
    with BuildSketch(Plane(origin=(0, 16.95, 0), x_dir=(-1, 0, 0), z_dir=(0, 1, 0)).offset(MOTOR_START_2)):
        with Locations((0, -14.052982329)):
            Rectangle(SKETCH21_W, SKETCH21_H)
    extrude(amount=MOTOR_STATOR_BRUSHES_DEPTH)

    # Sketch22 → Cut-Extrude1 (cut, through all)
    with BuildSketch(Plane.XY.offset(26.88)):
        with BuildLine():
            Line((-5.899788132, 26.05), (6.425, 25.925458048))
            ThreePointArc((6.425, 25.925458048), (12.52564942, 23.590635994), (17.877135091, 19.844849229))
            ThreePointArc((17.877135091, 19.844849229), (0, 25.385679038), (-17.877135091, 19.844849229))
            ThreePointArc((-17.877135091, 19.844849229), (-12.286638821, 23.715996848), (-5.899788132, 26.05))
        make_face()
        with BuildLine():
            Line((-5.899788132, -26.05), (6.425, -25.925458048))
            ThreePointArc((6.425, -25.925458048), (12.52564942, -23.590635994), (17.877135091, -19.844849229))
            ThreePointArc((17.877135091, -19.844849229), (0, -25.385679038), (-17.877135091, -19.844849229))
            ThreePointArc((-17.877135091, -19.844849229), (-12.286638821, -23.715996848), (-5.899788132, -26.05))
        make_face()
    extrude(amount=-CUT_EXTRUDE1_DEPTH, mode=Mode.SUBTRACT)


with BuildPart() as cut_extrude1_kept_piece:
    # of the separate pieces the step leaves, the one the design keeps (cut_extrude1_pieces_kept)
    add(part.part.solids().sort_by_distance((1.989974874, 1.25, 56.84))[0])


solid = cut_extrude1_kept_piece.part
